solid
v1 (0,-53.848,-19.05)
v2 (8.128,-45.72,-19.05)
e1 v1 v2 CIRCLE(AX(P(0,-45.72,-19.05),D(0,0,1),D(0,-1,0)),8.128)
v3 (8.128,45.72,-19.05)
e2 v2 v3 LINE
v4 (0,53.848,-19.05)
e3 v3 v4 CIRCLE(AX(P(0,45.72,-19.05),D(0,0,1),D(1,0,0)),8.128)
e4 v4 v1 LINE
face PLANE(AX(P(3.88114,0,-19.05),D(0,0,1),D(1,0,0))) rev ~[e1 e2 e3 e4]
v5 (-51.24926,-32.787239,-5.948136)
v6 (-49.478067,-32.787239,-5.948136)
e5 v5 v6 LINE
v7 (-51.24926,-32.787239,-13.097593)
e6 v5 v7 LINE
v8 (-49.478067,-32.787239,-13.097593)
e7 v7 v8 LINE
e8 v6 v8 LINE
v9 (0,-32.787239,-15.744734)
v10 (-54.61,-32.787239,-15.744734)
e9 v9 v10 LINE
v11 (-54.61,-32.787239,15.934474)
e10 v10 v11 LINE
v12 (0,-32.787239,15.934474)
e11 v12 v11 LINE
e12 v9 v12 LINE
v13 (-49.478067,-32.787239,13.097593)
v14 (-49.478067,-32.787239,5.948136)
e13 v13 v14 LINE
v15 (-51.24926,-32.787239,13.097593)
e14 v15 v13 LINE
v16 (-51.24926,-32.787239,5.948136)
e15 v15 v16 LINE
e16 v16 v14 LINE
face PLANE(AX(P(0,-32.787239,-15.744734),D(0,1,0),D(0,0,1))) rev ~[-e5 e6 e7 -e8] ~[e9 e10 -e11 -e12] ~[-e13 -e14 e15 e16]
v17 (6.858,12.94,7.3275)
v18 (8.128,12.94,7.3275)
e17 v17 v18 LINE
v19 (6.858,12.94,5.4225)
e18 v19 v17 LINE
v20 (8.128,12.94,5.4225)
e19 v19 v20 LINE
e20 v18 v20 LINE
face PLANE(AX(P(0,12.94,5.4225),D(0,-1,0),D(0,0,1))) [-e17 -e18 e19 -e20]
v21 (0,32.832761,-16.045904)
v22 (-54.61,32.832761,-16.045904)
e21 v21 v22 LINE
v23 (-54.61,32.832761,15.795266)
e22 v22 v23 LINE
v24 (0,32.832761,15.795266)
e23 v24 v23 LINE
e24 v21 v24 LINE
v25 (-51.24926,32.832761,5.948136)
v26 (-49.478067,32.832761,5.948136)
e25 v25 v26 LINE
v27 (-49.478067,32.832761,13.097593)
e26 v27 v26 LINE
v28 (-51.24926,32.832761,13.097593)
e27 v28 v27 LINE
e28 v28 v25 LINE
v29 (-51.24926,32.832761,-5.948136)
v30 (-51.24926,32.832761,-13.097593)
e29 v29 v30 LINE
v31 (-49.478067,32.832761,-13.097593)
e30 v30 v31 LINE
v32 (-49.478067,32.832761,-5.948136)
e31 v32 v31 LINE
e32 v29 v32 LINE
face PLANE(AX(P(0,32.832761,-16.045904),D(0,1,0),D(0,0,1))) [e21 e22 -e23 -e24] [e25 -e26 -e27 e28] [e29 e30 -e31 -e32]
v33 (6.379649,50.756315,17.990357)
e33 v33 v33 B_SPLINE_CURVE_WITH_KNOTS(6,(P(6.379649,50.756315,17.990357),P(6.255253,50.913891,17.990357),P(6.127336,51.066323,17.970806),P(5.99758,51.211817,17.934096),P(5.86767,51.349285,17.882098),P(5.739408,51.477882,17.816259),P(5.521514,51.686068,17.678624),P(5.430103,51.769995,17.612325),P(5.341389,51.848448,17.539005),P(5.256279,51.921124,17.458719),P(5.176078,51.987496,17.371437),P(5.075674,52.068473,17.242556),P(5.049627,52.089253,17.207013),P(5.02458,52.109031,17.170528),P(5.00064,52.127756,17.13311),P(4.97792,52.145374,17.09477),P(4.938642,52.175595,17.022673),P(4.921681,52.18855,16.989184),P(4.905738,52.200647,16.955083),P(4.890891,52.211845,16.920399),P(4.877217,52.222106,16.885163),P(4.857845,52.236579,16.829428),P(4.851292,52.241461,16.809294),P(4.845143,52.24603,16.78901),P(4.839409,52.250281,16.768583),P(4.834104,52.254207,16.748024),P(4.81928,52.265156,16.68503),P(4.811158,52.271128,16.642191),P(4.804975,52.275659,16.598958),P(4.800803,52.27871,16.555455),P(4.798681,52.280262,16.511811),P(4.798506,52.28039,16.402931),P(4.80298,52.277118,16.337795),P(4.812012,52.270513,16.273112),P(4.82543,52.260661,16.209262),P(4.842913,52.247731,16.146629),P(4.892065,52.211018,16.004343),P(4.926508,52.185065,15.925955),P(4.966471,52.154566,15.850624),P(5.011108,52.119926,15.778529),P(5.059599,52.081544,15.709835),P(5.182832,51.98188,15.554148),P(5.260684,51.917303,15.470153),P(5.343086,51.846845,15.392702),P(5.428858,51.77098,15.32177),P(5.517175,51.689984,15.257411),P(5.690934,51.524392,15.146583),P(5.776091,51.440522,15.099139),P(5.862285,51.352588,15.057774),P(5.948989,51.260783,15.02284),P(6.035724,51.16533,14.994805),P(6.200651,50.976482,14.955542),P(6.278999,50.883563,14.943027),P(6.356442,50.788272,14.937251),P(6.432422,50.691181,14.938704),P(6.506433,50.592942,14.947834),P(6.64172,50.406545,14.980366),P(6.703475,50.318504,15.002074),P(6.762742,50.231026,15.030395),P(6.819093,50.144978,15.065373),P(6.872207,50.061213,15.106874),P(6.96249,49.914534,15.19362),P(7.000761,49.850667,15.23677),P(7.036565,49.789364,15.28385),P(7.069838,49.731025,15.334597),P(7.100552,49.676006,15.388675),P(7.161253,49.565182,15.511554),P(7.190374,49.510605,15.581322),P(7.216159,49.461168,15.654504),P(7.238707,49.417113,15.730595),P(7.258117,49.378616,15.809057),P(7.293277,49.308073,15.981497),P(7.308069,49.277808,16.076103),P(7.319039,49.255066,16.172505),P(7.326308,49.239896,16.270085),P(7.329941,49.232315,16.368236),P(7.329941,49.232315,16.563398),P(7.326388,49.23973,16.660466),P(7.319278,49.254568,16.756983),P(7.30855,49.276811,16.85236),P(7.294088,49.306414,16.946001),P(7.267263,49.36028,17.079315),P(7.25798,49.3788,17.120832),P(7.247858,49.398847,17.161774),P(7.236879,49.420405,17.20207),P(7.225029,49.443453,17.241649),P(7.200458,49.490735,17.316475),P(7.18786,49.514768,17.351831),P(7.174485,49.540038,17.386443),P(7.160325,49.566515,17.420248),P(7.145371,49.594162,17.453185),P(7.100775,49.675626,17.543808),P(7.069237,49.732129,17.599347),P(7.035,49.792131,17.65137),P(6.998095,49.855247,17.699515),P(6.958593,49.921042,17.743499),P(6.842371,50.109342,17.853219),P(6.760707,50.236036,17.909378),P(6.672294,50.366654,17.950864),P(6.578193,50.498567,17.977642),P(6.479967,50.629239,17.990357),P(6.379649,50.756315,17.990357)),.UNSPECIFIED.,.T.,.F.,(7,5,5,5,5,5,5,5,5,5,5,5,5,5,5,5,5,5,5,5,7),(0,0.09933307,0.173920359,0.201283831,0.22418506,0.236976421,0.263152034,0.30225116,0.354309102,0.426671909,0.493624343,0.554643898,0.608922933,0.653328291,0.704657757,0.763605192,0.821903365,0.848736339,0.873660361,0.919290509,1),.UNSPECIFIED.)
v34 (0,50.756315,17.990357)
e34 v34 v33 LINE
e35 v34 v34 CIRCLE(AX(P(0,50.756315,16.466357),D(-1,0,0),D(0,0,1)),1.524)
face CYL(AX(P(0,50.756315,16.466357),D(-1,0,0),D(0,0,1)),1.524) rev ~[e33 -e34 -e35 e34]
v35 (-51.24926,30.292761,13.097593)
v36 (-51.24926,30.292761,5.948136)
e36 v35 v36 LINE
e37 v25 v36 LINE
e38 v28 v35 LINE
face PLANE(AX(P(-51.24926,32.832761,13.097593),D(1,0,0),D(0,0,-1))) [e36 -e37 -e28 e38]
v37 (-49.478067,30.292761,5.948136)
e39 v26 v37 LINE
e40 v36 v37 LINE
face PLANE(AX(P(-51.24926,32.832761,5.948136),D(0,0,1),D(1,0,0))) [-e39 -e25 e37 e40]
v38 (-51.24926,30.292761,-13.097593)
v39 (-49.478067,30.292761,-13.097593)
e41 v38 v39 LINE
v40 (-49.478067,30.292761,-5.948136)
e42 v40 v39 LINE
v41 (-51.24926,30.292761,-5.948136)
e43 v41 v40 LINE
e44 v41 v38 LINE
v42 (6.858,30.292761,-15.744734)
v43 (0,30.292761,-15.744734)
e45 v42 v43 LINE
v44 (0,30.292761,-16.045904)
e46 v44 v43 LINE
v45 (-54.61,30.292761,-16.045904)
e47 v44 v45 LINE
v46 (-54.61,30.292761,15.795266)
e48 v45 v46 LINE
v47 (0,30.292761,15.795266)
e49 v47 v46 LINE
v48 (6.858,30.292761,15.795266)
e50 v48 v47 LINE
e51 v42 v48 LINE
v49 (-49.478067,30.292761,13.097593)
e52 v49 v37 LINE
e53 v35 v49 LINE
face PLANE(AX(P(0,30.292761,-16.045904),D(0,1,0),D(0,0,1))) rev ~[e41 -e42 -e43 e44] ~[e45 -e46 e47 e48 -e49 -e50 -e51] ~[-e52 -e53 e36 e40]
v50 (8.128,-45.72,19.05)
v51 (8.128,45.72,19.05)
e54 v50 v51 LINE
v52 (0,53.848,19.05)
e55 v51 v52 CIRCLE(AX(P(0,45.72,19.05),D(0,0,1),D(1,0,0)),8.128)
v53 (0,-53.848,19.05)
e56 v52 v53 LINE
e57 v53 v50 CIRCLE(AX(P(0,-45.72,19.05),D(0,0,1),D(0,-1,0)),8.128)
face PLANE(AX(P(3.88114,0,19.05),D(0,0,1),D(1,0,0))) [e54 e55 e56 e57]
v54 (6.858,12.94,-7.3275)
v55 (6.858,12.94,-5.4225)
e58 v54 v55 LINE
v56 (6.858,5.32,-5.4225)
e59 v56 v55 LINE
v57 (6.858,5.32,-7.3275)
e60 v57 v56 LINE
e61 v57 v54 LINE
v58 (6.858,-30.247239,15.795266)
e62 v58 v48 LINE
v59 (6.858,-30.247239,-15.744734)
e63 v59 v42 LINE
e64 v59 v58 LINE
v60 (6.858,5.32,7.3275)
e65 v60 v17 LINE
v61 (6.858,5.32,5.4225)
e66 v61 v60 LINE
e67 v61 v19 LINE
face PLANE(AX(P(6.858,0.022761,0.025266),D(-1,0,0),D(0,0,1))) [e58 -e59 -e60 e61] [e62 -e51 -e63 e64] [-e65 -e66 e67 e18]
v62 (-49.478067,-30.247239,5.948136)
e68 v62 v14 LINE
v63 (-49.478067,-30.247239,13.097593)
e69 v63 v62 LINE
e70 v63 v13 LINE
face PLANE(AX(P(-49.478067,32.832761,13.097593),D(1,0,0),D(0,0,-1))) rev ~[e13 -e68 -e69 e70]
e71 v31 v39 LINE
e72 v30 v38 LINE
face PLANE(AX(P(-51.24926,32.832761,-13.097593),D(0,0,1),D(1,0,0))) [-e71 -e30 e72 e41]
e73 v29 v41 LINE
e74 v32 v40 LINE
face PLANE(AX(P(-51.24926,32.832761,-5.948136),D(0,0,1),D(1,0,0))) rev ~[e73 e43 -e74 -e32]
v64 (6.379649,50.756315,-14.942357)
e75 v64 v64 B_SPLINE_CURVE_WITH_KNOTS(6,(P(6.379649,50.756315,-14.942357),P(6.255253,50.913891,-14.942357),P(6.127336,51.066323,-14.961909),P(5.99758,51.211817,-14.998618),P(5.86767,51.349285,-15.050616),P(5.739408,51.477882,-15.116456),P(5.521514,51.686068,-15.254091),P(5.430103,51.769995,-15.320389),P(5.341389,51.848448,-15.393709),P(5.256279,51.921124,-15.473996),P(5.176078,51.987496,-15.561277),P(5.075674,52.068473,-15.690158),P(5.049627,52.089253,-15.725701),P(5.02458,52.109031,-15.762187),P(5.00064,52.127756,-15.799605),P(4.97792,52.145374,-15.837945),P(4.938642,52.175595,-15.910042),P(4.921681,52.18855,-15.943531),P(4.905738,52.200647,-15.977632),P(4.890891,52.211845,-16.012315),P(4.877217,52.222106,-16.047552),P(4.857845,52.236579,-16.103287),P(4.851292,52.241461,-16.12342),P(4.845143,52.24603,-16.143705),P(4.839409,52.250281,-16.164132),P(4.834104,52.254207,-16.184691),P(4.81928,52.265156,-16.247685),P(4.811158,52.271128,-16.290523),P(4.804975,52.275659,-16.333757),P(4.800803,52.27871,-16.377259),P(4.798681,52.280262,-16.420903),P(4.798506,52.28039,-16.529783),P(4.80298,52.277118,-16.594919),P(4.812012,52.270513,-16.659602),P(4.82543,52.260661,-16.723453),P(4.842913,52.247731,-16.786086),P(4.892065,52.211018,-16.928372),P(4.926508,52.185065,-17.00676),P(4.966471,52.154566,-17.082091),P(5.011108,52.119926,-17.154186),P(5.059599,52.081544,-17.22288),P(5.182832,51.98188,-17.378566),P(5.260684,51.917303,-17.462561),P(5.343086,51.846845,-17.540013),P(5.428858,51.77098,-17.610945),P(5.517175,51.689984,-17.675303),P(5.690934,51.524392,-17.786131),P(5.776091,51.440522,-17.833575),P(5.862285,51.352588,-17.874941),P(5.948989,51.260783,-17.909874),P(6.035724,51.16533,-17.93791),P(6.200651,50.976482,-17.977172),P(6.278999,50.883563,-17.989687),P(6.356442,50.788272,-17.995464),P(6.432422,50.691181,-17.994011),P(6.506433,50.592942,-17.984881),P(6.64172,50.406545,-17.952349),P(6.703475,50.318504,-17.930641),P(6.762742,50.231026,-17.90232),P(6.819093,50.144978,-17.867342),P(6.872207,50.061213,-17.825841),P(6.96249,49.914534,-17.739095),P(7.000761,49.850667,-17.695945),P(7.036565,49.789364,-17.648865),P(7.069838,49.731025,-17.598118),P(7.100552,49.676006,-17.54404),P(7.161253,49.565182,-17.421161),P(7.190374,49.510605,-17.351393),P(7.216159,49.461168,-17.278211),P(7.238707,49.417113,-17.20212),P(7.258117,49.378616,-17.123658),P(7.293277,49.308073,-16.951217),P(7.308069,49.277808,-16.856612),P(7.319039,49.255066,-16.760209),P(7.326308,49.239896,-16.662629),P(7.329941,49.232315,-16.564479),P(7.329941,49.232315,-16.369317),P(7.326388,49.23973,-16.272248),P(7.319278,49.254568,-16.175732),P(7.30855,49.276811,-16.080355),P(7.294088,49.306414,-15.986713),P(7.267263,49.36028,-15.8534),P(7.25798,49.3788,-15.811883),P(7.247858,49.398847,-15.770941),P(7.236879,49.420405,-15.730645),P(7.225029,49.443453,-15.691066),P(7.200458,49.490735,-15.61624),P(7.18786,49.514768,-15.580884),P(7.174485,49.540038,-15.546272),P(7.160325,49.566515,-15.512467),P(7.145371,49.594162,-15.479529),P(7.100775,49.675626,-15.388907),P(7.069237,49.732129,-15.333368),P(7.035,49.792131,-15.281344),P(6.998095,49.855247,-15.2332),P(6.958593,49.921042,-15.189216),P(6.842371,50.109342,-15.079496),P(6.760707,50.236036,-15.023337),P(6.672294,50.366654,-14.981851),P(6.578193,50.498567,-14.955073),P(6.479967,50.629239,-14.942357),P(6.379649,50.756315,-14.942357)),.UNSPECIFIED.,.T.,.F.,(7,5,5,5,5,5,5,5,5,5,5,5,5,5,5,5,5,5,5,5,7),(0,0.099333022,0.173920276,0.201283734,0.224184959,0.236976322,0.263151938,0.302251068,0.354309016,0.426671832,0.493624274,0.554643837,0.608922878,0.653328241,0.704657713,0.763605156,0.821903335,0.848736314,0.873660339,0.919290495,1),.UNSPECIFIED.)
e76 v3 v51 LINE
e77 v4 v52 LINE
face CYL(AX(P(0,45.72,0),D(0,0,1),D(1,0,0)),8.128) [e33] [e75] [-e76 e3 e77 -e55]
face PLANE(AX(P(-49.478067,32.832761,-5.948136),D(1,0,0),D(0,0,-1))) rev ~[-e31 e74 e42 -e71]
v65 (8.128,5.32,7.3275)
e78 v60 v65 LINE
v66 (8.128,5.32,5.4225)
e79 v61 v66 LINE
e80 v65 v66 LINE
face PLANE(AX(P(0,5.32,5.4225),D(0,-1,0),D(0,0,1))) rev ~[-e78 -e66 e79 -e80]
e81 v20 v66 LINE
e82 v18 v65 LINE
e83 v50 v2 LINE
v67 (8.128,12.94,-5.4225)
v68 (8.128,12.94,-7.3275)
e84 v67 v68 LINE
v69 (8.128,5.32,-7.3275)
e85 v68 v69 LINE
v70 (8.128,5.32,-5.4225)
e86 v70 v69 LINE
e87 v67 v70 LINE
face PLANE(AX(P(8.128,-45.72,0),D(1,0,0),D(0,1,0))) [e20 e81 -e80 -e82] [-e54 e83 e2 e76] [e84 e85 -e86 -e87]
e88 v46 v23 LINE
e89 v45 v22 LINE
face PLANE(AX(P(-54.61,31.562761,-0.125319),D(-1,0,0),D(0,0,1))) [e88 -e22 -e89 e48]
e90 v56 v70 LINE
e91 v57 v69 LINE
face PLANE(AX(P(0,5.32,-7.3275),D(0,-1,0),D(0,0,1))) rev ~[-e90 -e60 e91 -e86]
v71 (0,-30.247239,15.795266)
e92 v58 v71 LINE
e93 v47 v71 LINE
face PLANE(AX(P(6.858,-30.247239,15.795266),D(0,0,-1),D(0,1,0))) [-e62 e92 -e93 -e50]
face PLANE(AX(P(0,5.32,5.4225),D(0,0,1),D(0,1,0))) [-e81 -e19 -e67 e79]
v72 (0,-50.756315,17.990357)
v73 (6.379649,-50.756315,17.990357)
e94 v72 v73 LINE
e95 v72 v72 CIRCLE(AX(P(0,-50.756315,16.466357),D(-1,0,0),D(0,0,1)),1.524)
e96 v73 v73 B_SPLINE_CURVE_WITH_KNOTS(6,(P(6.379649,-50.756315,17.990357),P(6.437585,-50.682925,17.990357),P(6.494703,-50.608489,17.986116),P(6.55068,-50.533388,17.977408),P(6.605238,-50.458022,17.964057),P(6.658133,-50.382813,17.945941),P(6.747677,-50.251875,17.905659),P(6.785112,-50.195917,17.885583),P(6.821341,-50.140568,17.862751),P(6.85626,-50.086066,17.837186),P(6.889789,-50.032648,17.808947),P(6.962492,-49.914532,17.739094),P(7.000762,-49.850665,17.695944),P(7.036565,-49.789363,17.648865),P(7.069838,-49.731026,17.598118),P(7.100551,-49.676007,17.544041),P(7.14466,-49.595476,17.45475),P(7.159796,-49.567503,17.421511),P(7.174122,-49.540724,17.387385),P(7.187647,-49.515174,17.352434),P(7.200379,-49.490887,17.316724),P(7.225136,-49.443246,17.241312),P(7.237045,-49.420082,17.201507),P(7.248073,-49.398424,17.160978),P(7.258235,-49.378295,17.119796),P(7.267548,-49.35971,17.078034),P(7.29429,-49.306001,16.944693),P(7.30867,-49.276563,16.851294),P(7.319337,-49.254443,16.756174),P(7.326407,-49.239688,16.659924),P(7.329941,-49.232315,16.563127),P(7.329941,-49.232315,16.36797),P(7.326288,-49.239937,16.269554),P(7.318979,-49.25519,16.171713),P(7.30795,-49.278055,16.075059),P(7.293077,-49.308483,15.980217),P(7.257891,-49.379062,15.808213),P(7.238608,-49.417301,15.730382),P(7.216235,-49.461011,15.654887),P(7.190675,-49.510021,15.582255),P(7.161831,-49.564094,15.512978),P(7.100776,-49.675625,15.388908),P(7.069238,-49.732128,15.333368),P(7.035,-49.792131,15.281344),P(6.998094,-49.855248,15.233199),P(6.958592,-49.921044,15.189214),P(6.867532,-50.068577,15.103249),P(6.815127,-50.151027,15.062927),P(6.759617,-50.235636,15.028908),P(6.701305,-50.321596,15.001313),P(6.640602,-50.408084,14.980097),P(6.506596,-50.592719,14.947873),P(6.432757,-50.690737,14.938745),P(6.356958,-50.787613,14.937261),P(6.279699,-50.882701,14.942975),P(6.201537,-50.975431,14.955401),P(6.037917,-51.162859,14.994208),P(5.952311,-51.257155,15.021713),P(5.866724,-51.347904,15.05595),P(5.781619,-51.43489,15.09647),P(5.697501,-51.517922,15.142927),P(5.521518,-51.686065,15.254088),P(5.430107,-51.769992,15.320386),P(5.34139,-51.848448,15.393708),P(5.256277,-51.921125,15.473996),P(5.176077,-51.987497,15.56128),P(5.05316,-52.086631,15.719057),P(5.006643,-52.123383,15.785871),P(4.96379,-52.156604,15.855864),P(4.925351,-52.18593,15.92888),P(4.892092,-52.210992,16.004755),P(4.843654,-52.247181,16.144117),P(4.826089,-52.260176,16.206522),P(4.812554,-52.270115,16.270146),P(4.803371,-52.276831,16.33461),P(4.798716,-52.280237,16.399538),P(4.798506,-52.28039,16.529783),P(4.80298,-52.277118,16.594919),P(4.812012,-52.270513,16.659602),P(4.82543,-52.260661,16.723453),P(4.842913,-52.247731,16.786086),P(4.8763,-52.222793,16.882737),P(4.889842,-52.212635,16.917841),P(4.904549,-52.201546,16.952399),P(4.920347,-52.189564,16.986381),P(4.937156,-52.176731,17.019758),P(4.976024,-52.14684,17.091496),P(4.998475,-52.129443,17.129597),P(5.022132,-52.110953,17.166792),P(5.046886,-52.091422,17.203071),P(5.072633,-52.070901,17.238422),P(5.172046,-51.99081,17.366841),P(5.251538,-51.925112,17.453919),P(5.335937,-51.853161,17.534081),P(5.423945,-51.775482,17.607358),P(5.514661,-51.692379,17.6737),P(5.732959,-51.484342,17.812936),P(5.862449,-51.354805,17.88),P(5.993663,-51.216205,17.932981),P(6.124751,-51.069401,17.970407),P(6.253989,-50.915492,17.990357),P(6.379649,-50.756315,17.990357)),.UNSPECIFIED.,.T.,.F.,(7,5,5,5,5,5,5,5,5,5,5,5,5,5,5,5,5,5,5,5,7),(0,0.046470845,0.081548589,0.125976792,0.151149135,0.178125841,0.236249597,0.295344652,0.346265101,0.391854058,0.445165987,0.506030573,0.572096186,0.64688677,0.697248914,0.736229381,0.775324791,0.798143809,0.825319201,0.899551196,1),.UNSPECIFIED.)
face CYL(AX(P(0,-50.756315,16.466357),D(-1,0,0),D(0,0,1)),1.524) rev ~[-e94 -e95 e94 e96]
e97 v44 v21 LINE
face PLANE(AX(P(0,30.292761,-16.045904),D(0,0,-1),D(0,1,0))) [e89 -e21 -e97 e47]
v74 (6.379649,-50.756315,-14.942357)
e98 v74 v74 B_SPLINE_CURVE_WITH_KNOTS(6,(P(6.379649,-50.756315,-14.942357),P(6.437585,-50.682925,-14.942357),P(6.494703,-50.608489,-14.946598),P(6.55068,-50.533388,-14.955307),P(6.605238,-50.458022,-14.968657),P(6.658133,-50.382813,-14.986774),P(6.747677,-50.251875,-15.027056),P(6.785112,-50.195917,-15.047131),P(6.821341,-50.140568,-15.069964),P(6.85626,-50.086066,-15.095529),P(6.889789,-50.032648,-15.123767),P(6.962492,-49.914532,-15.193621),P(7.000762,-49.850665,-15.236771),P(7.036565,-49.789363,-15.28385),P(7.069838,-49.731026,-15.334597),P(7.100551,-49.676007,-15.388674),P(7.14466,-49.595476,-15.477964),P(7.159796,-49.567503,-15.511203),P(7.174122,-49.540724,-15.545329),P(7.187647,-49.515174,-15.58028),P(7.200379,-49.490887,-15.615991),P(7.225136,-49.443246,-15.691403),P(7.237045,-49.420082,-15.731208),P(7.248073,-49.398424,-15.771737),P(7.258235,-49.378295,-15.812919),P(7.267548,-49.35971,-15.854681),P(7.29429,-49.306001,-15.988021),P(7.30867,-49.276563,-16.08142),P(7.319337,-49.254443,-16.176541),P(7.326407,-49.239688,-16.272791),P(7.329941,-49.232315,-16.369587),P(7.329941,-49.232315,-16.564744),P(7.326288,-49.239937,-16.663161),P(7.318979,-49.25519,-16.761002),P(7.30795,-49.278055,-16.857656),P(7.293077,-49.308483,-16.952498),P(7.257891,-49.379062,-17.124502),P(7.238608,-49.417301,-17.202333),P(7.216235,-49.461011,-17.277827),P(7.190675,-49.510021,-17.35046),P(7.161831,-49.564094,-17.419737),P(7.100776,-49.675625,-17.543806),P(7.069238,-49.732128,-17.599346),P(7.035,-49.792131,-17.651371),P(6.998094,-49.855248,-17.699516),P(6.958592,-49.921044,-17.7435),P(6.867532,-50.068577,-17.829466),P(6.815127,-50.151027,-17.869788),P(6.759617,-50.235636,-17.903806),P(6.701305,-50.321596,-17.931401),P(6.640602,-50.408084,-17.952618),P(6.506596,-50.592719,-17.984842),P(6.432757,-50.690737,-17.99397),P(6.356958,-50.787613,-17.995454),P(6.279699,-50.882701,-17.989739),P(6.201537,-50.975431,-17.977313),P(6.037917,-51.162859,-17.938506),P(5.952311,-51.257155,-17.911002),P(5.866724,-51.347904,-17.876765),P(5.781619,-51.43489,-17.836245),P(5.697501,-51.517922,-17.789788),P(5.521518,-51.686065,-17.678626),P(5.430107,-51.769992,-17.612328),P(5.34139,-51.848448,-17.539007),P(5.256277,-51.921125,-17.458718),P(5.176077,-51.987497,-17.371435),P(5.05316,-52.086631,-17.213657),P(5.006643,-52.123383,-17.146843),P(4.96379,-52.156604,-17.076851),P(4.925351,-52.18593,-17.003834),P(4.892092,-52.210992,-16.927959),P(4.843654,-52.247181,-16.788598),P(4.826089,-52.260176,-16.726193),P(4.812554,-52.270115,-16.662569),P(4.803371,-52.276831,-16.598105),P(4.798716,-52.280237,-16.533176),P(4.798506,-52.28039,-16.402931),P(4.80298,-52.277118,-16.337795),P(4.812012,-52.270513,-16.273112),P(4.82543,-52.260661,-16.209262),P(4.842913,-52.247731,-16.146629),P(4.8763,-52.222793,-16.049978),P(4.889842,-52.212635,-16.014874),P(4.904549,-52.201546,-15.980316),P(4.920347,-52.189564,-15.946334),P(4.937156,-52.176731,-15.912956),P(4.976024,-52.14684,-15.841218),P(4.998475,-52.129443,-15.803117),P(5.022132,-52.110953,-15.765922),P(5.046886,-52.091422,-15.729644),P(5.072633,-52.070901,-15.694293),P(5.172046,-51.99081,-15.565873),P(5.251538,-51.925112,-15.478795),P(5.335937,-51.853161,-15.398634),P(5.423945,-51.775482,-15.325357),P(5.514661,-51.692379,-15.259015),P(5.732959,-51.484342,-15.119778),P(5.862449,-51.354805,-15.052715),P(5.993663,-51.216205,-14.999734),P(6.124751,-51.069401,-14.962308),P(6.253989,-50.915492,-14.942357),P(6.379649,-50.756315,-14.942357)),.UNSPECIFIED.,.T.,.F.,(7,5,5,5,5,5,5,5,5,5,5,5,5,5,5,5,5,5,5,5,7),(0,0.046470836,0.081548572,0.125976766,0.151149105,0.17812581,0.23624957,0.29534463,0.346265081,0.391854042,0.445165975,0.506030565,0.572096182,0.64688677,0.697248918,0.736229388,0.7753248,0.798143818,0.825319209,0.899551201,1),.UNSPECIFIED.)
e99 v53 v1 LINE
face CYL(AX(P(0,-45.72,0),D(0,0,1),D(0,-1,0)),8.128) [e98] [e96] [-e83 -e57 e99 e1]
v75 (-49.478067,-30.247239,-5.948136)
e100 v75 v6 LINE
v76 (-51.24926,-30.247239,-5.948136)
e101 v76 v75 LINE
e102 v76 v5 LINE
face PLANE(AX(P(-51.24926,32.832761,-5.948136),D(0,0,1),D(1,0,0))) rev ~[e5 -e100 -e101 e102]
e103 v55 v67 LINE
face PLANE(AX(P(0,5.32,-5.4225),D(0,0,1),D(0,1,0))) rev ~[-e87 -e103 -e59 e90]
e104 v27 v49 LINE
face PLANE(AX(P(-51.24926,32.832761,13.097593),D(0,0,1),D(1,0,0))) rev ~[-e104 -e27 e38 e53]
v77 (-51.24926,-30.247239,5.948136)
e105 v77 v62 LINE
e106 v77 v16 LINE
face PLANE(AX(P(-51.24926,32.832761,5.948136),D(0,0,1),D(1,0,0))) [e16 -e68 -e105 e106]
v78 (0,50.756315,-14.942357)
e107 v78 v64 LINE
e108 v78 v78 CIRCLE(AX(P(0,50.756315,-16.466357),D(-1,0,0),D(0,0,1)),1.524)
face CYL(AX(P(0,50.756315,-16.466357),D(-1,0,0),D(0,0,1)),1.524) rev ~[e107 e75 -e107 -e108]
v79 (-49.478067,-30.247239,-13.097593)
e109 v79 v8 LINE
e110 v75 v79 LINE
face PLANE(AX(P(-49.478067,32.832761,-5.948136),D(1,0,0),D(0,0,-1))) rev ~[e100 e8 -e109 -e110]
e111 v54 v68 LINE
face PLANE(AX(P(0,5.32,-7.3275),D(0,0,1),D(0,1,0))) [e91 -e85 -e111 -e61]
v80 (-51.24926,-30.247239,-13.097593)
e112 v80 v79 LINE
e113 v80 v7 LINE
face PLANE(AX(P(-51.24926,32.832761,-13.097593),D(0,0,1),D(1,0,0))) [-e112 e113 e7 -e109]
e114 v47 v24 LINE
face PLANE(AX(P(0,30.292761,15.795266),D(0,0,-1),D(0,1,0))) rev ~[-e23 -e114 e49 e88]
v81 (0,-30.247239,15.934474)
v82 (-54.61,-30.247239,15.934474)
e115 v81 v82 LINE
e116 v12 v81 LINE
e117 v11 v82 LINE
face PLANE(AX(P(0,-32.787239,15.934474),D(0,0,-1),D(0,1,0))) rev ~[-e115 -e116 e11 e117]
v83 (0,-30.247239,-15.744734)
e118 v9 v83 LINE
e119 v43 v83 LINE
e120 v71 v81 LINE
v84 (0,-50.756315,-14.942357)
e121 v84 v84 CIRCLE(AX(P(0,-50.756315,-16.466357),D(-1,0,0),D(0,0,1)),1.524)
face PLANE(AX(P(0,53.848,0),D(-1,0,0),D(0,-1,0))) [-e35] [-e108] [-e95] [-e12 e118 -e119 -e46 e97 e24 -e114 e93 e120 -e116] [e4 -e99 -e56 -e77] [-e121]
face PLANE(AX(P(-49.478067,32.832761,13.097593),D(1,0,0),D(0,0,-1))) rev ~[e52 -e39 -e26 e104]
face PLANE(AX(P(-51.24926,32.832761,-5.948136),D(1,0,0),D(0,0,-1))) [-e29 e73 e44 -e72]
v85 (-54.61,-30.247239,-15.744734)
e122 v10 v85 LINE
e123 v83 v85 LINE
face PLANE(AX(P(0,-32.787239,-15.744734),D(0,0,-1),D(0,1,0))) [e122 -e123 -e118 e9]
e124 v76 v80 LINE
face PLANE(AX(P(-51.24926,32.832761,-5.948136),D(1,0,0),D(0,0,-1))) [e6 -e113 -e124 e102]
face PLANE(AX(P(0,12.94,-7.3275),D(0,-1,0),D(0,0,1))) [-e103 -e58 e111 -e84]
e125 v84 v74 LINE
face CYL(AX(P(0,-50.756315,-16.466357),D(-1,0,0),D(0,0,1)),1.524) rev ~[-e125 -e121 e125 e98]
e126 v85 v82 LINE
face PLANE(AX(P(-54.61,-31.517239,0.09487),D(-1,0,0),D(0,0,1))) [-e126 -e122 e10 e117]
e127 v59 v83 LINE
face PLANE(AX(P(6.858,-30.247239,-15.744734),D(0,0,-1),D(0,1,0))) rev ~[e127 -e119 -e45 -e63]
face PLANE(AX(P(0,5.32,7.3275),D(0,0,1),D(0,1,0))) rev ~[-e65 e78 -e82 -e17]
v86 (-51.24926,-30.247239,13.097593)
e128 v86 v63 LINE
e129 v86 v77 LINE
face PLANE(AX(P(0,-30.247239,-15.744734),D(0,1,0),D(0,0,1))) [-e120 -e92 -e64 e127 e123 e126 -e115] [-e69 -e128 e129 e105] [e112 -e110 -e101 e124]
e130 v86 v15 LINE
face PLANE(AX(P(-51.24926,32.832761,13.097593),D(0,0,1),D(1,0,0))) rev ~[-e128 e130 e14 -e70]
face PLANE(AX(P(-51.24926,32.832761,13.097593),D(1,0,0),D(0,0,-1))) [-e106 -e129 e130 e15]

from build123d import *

# Parameters (mm, degrees)
BOSS_EXTRUDE1_DEPTH     = 19.05
CUT_EXTRUDE4_DEPTH      = 0.508
CUT_EXTRUDE4_DEPTH_BACK = 6.858
SKETCH4_W               = 31.54
SKETCH4_H               = 60.54
SKETCH4_3_W             = 1.905
SKETCH4_3_H             = 7.62
CUT_EXTRUDE5_DEPTH      = 34.798
SKETCH5_W               = 31.679207877
SKETCH5_H               = 2.54
SKETCH5_W_2             = 31.841170495
BOSS_EXTRUDE2_DEPTH     = 54.61
SKETCH6_W               = 1.77119272
SKETCH6_H               = 7.149457174
CUT_EXTRUDE6_DEPTH      = 90.782
SKETCH4_5_R             = 1.524
CUT_EXTRUDE7_DEPTH      = 90.782


with BuildPart() as part:
    # Sketch2 → Boss-Extrude1 (new, symmetric)
    with BuildSketch(Plane.XY):
        with BuildLine():
            Line((8.128, -45.72), (8.128, 45.72))
            ThreePointArc((8.128, 45.72), (5.747363917, 51.467363917), (0, 53.848))
            Line((0, 53.848), (0, -53.848))
            ThreePointArc((0, -53.848), (5.747363917, -51.467363917), (8.128, -45.72))
        make_face()
    extrude(amount=BOSS_EXTRUDE1_DEPTH, both=True)

    # Sketch4 → Cut-Extrude4 (cut, two sides: drawn at the far end of the back side and taken through both)
    with BuildSketch(Plane.ZY.offset(-CUT_EXTRUDE4_DEPTH_BACK)):
        with Locations((0.025266364, 0.022760685)):
            Rectangle(SKETCH4_W, SKETCH4_H)
    extrude(amount=CUT_EXTRUDE4_DEPTH + CUT_EXTRUDE4_DEPTH_BACK, mode=Mode.SUBTRACT)

    # Sketch4<3> → Cut-Extrude5 (cut)
    with BuildSketch(Plane.ZY):
        with Locations((-6.375, 9.13)):
            Rectangle(SKETCH4_3_W, SKETCH4_3_H)
        with Locations((6.375, 9.13)):
            Rectangle(SKETCH4_3_W, SKETCH4_3_H)
    extrude(amount=-CUT_EXTRUDE5_DEPTH, mode=Mode.SUBTRACT)

    # Sketch5 → Boss-Extrude2 (add)
    with BuildSketch(Plane.ZY):
        with Locations((0.094870302, -31.517239315)):
            Rectangle(SKETCH5_W, SKETCH5_H)
        with Locations((-0.125318883, 31.562760685)):
            Rectangle(SKETCH5_W_2, SKETCH5_H)
    extrude(amount=BOSS_EXTRUDE2_DEPTH)

    # Sketch6 → Cut-Extrude6 (cut)
    with BuildSketch(Plane(origin=(0, 32.832760685, 0), x_dir=(1, 0, 0), z_dir=(0, 1, 0))):
        with Locations((-50.36366337, 9.522864257)):
            Rectangle(SKETCH6_W, SKETCH6_H)
        with Locations((-50.36366337, -9.522864257)):
            Rectangle(SKETCH6_W, SKETCH6_H)
    extrude(amount=-CUT_EXTRUDE6_DEPTH, mode=Mode.SUBTRACT)

    # Sketch4<5> → Cut-Extrude7 (cut)
    with BuildSketch(Plane.ZY):
        with Locations((-16.466357327, -50.756314804)):
            Circle(SKETCH4_5_R)
        with Locations((16.466357327, -50.756314804)):
            Circle(SKETCH4_5_R)
        with Locations((16.466357327, 50.756314804)):
            Circle(SKETCH4_5_R)
        with Locations((-16.466357327, 50.756314804)):
            Circle(SKETCH4_5_R)
    extrude(amount=-CUT_EXTRUDE7_DEPTH, mode=Mode.SUBTRACT)


solid = part.part
